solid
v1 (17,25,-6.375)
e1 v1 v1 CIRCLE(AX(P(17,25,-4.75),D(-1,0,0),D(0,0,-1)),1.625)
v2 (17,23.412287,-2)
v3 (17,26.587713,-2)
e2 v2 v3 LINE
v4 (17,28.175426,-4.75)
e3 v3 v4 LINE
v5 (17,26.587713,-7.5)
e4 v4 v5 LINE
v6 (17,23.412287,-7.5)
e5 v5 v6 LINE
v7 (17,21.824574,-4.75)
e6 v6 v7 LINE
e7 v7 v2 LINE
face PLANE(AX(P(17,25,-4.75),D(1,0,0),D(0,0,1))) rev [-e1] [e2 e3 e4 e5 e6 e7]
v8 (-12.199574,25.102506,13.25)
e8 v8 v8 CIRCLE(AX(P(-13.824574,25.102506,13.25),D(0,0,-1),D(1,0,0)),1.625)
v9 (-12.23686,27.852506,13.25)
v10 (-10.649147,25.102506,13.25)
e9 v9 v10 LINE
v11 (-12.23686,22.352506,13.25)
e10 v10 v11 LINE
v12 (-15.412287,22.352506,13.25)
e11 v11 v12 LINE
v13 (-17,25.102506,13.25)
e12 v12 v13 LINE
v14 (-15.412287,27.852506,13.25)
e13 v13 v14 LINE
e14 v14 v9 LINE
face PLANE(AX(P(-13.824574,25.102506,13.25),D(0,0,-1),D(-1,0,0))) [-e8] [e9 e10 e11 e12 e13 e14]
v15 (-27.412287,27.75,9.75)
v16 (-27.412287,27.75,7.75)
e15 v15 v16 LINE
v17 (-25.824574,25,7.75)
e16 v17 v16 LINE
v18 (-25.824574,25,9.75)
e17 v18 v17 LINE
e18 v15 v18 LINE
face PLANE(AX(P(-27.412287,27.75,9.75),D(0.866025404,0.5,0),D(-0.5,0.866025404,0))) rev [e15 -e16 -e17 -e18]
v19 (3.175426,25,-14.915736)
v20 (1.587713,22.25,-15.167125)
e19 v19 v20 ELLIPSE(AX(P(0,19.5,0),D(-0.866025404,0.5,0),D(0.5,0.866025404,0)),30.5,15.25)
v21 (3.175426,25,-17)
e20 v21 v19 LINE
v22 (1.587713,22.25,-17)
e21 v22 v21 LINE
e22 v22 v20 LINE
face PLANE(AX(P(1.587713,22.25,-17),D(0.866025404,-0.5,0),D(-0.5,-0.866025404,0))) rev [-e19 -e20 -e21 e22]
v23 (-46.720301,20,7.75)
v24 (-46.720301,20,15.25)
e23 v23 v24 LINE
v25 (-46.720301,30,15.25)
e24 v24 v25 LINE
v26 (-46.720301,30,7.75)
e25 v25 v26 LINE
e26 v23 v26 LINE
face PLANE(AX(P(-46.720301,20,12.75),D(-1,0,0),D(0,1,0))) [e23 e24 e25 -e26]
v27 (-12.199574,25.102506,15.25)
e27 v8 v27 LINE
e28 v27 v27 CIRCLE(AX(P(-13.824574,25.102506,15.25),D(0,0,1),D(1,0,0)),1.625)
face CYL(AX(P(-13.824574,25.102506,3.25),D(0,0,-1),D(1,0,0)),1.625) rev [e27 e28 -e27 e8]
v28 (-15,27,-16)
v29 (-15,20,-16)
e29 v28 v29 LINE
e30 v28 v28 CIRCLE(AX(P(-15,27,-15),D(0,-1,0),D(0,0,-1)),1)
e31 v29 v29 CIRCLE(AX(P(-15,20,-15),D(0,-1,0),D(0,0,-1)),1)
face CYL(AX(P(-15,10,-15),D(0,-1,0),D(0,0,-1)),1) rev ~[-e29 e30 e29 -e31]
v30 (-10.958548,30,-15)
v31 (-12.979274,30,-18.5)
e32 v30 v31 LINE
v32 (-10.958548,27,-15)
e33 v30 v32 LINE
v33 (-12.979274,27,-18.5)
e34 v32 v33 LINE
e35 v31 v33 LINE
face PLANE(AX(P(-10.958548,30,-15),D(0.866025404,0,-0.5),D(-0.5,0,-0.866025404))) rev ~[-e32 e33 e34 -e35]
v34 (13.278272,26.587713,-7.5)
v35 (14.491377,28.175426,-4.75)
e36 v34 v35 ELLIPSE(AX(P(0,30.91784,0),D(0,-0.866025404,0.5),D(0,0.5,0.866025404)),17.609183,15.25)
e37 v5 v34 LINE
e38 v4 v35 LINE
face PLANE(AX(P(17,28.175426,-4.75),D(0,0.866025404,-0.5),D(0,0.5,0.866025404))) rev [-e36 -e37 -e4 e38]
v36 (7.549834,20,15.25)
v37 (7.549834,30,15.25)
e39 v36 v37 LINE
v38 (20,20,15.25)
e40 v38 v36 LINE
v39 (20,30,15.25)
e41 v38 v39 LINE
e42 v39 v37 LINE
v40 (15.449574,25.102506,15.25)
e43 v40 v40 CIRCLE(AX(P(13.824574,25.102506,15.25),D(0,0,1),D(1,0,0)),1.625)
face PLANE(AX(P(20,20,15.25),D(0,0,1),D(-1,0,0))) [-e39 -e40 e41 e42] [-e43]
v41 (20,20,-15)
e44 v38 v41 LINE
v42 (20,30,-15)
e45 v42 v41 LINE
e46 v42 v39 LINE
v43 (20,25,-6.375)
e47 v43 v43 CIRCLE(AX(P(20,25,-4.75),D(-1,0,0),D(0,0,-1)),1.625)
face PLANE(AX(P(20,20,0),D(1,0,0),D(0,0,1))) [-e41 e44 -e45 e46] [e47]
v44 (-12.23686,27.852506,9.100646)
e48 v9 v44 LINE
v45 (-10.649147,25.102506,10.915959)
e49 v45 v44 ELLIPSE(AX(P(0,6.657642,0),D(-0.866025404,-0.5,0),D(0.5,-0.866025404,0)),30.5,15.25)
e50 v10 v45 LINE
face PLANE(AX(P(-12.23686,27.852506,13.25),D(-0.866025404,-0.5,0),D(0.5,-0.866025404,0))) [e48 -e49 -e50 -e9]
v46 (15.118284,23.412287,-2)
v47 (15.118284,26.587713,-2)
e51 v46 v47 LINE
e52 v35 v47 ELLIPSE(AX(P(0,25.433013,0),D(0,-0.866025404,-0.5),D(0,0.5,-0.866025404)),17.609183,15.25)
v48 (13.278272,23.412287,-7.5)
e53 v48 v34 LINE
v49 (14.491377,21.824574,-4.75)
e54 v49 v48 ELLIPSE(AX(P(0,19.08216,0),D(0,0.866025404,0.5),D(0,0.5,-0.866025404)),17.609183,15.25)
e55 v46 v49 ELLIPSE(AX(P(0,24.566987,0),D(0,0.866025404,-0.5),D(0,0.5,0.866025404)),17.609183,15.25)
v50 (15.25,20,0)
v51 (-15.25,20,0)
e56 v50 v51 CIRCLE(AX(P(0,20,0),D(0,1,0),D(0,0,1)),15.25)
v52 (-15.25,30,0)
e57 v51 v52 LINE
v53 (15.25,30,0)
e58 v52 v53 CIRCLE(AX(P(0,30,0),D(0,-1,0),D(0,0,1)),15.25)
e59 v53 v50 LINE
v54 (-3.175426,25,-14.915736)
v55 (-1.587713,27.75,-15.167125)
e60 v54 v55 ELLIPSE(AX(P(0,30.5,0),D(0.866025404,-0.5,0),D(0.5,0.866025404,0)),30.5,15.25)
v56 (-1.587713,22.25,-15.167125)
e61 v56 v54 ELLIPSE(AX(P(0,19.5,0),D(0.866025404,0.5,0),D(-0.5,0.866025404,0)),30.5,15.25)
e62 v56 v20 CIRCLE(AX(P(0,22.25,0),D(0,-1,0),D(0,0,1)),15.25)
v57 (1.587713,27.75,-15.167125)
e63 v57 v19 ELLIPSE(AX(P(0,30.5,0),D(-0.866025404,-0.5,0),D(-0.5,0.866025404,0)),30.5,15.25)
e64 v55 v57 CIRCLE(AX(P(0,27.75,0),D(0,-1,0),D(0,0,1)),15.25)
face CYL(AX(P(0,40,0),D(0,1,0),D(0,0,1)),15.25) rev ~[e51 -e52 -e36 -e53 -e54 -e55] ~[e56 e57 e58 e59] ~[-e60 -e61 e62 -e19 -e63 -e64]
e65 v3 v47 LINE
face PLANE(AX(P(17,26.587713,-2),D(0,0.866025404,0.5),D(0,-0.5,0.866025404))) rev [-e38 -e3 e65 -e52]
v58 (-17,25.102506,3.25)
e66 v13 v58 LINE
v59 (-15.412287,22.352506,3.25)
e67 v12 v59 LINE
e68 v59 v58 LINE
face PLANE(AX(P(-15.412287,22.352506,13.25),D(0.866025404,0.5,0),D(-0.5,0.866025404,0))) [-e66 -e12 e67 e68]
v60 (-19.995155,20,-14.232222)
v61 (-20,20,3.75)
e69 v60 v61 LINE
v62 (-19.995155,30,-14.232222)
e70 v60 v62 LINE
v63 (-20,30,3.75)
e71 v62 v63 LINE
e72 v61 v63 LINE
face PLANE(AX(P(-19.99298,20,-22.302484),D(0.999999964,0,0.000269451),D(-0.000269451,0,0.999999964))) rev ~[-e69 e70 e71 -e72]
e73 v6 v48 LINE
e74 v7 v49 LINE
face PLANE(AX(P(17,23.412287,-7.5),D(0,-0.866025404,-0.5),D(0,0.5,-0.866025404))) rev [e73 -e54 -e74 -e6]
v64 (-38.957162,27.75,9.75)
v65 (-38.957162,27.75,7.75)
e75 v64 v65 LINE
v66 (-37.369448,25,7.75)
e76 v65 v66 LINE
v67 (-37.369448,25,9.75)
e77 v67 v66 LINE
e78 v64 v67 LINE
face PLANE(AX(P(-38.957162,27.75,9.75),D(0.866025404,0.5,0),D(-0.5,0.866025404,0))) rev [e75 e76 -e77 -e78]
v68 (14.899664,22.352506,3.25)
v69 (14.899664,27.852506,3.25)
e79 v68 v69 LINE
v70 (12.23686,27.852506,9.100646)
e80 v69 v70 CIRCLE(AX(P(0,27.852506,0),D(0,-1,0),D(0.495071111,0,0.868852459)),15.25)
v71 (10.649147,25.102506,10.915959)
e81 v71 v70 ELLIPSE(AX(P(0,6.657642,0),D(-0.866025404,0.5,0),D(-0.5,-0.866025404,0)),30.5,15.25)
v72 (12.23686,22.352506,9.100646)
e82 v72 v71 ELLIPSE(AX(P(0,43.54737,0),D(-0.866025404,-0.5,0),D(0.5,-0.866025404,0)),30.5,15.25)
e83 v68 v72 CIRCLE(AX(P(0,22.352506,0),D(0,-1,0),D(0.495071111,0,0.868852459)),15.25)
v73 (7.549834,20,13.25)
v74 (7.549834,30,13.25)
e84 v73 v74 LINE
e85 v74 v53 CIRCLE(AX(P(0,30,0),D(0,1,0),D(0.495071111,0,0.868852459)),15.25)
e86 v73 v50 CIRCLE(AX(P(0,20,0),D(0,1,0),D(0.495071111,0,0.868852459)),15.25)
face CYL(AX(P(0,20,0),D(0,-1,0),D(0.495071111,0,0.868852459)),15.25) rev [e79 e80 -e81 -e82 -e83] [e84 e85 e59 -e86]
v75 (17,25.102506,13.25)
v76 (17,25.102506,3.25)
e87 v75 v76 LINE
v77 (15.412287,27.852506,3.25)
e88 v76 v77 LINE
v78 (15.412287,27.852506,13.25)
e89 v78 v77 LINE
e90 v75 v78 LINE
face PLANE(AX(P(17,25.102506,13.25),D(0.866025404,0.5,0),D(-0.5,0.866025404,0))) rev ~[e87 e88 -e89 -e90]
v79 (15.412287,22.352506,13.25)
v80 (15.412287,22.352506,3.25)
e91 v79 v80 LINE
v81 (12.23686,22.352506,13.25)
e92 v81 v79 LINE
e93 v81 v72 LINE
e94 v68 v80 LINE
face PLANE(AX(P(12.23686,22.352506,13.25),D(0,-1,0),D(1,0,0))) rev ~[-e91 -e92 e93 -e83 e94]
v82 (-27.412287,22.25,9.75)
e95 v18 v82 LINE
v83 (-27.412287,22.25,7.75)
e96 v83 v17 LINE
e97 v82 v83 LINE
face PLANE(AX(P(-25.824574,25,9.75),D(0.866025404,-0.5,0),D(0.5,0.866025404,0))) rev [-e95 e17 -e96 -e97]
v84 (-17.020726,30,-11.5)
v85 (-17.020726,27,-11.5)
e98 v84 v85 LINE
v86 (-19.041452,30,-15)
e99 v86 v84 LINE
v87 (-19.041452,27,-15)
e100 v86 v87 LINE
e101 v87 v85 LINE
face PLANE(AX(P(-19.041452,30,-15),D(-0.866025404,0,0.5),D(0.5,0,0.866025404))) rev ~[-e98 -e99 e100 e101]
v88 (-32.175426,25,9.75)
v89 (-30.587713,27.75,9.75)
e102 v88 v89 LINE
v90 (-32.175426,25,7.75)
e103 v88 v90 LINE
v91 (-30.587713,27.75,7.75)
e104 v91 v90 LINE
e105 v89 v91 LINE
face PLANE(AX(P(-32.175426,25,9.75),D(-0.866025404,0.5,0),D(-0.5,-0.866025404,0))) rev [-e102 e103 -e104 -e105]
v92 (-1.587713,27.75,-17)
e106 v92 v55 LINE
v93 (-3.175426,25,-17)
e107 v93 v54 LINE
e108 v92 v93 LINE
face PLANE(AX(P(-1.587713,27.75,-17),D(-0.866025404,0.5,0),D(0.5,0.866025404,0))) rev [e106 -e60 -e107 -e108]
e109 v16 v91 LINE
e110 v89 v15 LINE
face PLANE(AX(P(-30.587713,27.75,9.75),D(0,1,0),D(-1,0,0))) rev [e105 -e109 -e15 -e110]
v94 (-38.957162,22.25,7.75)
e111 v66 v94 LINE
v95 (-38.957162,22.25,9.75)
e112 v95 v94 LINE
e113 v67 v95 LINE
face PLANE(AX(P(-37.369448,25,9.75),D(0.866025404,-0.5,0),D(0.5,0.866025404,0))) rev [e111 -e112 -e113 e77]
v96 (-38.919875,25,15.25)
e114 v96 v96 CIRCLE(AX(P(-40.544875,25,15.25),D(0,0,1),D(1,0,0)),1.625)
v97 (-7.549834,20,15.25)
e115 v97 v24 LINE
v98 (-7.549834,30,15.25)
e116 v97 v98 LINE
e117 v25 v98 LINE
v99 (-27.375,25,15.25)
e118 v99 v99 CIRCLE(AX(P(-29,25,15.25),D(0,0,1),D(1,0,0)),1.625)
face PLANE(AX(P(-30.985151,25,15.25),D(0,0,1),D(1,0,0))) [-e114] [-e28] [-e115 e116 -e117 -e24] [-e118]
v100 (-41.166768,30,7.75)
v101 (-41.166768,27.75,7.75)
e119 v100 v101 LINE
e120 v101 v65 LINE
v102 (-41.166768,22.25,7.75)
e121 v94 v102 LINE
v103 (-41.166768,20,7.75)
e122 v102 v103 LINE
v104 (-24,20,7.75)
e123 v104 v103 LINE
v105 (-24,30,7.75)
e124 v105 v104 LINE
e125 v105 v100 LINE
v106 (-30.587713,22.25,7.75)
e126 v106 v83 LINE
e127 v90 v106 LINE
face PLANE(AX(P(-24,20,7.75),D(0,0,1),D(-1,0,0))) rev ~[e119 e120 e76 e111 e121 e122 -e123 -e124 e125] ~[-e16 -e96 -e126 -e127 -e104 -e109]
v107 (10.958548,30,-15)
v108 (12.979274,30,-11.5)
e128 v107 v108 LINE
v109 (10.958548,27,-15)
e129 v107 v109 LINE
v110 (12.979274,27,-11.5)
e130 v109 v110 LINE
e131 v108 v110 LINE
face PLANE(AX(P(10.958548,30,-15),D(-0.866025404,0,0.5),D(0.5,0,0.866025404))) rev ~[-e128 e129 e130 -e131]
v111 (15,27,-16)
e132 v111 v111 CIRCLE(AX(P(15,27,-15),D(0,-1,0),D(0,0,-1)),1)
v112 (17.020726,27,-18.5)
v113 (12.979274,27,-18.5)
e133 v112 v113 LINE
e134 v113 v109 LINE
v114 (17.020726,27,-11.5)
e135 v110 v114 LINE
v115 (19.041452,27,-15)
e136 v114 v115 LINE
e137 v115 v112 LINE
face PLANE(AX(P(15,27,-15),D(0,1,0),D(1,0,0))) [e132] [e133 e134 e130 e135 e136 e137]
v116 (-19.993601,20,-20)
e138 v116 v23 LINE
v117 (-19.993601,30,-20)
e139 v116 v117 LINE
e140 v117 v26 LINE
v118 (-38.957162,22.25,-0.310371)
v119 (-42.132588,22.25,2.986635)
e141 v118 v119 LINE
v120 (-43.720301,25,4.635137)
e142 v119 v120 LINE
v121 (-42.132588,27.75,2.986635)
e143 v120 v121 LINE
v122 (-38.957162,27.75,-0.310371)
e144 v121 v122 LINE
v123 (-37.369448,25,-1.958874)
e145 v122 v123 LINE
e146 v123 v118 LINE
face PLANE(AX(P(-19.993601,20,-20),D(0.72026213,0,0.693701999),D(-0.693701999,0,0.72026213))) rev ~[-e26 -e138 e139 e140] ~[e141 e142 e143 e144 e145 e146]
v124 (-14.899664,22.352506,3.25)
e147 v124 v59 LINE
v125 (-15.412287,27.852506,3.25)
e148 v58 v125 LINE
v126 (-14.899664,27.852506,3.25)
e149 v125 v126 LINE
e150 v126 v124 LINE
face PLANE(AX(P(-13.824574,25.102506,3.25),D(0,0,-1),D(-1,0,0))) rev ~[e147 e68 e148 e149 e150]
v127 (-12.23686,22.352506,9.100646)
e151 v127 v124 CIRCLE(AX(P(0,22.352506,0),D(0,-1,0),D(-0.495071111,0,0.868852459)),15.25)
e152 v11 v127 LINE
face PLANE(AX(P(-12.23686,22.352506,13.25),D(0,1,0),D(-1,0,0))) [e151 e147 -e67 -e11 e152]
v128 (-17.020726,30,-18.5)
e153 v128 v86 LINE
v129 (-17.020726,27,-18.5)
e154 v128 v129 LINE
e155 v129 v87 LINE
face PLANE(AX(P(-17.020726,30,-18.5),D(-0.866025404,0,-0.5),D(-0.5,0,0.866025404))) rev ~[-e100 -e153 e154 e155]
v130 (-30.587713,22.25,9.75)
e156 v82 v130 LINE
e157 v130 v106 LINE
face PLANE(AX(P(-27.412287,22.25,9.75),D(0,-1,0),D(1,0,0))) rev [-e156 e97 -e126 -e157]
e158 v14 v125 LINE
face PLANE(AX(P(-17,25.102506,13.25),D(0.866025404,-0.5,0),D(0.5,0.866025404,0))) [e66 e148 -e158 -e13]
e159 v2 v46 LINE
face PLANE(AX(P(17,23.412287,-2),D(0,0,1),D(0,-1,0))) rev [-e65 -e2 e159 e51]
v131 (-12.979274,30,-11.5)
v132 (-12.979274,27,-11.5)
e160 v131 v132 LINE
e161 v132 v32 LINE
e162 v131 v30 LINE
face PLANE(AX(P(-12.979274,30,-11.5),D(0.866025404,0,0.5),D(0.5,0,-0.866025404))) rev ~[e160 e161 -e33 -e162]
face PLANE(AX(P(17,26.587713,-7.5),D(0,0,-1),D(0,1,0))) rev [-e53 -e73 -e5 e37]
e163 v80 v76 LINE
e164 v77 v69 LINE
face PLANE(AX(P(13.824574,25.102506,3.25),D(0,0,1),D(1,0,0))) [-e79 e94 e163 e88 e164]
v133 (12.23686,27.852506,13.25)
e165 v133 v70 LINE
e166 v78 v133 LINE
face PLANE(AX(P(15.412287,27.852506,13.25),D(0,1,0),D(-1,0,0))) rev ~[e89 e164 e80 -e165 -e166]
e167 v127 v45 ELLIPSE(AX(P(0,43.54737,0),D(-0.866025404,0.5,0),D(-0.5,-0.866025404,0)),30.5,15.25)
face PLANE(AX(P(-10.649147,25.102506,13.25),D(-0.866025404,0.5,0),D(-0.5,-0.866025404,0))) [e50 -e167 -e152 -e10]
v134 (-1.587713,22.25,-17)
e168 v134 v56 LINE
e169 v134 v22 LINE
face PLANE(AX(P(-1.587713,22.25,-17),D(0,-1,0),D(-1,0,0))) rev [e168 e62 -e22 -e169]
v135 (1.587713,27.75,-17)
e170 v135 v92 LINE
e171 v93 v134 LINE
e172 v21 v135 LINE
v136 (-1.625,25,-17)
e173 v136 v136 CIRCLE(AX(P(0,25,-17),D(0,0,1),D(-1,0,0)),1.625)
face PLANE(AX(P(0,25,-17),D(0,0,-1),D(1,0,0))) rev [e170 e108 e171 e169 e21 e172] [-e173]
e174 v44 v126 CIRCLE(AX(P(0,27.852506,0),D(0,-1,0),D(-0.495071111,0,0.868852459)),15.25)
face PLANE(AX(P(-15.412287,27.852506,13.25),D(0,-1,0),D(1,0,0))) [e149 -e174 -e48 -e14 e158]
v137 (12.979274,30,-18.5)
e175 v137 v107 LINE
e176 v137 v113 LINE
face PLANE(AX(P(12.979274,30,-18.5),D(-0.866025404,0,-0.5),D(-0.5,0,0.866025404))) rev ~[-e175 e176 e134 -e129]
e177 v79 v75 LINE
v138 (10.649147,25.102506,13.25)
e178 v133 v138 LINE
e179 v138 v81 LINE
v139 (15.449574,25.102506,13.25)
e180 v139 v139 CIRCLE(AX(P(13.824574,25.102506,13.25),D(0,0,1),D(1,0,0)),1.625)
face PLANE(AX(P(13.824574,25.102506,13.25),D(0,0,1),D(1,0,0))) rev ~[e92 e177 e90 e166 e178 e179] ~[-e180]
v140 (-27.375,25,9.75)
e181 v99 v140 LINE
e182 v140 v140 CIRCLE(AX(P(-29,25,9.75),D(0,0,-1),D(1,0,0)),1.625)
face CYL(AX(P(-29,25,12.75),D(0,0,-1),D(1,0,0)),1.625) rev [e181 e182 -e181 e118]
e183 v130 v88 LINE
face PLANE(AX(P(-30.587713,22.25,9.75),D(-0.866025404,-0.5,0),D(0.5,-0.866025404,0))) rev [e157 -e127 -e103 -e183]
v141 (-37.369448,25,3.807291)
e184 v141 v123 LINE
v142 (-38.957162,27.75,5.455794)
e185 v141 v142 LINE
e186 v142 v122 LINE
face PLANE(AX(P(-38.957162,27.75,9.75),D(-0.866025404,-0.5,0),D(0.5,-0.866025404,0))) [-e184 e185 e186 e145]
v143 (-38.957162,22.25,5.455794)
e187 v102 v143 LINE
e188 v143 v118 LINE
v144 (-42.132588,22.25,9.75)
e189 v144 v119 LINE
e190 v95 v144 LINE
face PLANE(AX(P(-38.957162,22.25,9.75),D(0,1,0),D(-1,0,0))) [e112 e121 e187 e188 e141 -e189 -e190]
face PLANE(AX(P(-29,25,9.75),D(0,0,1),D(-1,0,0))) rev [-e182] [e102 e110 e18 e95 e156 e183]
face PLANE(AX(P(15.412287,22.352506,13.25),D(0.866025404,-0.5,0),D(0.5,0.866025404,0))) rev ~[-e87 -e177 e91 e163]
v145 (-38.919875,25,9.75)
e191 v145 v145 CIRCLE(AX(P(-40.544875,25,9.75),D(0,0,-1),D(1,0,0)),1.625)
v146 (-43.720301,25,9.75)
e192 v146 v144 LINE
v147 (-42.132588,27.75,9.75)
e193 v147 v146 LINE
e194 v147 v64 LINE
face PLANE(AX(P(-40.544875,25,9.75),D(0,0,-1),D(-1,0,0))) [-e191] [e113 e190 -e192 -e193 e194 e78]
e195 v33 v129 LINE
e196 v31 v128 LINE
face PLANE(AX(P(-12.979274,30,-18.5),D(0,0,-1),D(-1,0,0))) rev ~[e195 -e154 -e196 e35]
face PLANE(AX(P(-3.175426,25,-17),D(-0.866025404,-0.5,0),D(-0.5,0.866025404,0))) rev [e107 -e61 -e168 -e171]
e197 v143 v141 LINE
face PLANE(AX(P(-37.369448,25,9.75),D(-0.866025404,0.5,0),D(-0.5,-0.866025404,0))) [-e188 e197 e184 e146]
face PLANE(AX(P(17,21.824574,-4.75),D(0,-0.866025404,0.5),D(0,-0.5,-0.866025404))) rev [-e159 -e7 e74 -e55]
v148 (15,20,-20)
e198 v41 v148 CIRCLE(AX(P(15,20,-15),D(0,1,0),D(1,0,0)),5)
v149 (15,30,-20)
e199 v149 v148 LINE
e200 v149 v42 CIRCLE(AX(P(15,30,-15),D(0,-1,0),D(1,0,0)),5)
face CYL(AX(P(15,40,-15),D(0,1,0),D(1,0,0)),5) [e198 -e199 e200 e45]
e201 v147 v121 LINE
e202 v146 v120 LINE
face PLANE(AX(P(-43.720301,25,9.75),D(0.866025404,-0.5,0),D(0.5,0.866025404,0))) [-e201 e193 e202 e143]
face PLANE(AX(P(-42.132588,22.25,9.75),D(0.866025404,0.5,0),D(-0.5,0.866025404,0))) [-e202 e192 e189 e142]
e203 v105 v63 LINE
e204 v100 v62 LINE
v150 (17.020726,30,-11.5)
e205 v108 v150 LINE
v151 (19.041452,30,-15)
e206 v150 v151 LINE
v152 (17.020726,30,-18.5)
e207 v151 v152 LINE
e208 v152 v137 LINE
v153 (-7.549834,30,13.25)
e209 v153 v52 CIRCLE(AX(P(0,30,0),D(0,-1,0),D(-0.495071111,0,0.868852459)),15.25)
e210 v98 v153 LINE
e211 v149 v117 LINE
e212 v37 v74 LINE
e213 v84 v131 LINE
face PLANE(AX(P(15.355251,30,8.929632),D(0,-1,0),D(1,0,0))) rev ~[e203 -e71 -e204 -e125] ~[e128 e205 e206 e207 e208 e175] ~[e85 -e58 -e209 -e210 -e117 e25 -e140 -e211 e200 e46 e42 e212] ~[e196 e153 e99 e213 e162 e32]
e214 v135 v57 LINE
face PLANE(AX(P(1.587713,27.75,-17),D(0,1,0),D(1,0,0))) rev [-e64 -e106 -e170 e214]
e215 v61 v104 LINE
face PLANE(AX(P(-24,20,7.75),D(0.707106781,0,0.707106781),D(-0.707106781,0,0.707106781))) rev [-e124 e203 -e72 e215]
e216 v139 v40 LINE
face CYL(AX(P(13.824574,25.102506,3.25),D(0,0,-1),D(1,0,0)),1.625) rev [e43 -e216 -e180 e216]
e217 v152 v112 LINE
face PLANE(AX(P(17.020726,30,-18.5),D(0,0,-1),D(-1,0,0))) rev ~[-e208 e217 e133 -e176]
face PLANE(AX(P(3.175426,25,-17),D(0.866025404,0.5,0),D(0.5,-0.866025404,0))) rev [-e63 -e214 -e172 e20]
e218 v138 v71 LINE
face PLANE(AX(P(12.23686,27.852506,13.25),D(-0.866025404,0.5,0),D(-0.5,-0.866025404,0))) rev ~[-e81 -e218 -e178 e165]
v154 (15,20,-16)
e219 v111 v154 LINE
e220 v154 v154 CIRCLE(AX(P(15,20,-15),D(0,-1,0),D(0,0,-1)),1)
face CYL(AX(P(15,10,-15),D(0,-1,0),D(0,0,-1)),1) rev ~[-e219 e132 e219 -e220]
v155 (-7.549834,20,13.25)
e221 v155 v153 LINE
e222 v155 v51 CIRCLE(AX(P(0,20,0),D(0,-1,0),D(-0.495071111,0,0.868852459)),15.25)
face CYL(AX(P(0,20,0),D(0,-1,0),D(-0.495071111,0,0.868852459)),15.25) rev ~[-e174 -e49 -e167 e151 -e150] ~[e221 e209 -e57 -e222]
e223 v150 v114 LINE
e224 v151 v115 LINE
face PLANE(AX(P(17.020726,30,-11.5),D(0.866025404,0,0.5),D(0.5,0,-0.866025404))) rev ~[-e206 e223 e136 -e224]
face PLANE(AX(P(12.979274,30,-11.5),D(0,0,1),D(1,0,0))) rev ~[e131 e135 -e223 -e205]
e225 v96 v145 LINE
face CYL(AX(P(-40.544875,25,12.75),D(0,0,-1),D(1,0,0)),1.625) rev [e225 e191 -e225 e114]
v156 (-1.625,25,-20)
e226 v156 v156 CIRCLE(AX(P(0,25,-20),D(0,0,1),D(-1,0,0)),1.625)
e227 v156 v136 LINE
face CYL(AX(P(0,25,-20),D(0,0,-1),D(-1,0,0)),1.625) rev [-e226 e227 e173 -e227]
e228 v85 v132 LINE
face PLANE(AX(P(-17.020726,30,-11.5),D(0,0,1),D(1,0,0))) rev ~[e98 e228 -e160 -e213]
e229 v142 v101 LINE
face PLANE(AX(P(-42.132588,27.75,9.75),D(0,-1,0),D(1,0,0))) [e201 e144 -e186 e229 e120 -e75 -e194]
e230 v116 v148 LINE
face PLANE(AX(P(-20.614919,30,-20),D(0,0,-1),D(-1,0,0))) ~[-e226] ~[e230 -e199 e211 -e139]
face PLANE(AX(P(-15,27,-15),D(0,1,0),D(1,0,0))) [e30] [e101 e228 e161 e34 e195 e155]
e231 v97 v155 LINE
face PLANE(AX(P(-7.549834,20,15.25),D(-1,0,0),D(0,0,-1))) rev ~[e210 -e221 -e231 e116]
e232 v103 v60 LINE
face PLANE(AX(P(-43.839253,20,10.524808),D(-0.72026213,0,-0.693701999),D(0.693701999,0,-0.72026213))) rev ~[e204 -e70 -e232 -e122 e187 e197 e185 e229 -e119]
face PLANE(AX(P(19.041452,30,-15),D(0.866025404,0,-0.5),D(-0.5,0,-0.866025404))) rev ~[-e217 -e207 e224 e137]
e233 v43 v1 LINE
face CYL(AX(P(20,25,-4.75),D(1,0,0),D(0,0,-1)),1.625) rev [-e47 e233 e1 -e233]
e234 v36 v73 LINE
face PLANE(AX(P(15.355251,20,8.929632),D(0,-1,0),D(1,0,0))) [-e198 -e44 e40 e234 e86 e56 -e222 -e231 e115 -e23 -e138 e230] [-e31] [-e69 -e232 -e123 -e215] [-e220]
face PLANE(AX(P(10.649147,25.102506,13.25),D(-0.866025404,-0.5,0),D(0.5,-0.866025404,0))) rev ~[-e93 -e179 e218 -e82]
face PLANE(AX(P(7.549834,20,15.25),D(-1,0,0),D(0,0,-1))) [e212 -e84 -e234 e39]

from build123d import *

# Parameters (mm, degrees)
CROQUIS1_R                              = 15.25
CROQUIS1_R_2                            = 2.125
SOPORTE_CAJA_REDUCTORA_DEPTH            = 20
CROQUIS3_R                              = 2.125
CORTAR_EXTRUIR1_DEPTH                   = 51.423828692
REDONDEO1_R                             = 5
BOSS_EXTRUDE1_DEPTH                     = 20
CUT_EXTRUDE1_REACH                      = 55.852
SKETCH2_R                               = 1.625
CUT_EXTRUDE2_DEPTH                      = 2
SKETCH4_R                               = 1.625
CUT_EXTRUDE3_DEPTH                      = 63.291652731
CUT_EXTRUDE4_START                      = -4.5
CUT_EXTRUDE4_DEPTH                      = 2
CROQUIS6_W                              = 4.75
CROQUIS6_H                              = 4.75
CORTAR_EXTRUIR17_DEPTH                  = 42.231056256
CROQUIS7_W                              = 60
CROQUIS7_H                              = 20
CORTAR_EXTRUIR18_DEPTH                  = 51.423828692
SALIENTE_EXTRUIR2_DEPTH                 = 49
SOPORTE_START                           = -15
SOPORTE_MOTOR_DEPTH                     = 15
CROQUIS12_R                             = 2.125
AGUJEROS_DE_SUJECION_A_BASE_DEPTH       = 84.087679592
TUERCA_START                            = -4
TUERCA_AGUJERO_DE_SUJECION_A_BASE_DEPTH = 10
SALIENTE_EXTRUIR4_DEPTH                 = 15
CORTAR_EXTRUIR19_DEPTH                  = 25
CROQUIS14_W                             = 50
CROQUIS14_H                             = 118
CORTAR_EXTRUIR22_DEPTH                  = 146.556045907
CROQUIS15_W                             = 10
CROQUIS15_H                             = 7
CORTAR_EXTRUIR23_DEPTH                  = 42.231056256
CORTAR_EXTRUIR24_DEPTH                  = 42.231056256
CROQUIS18_W                             = 40
CROQUIS18_H                             = 10
CORTAR_EXTRUIR25_DEPTH                  = 44.27311521
SALIENTE_EXTRUIR5_DEPTH                 = 10
CROQUIS20_R                             = 1
CORTAR_EXTRUIR26_DEPTH                  = 49.229270158
CORTAR_EXTRUIR27_REACH                  = 62.959
CORTAR_EXTRUIR27_END_RADIUS             = 15.25
CROQUIS21_R                             = 1.625
CROQUIS22_R                             = 2.125
CROQUIS22_R_2                           = 1
SALIENTE_EXTRUIR6_DEPTH                 = 10
CROQUIS23_R                             = 1.625
CORTAR_EXTRUIR28_DEPTH                  = 52.269508521
CORTAR_EXTRUIR29_START                  = -3
CORTAR_EXTRUIR29_DEPTH                  = 10
SALIENTE_EXTRUIR7_DEPTH                 = 10
CORTAR_EXTRUIR30_REACH                  = 72.235
CROQUIS27_R                             = 1.625
CORTAR_EXTRUIR31_REACH                  = 75.235
CORTAR_EXTRUIR31_START                  = -3
CORTAR_EXTRUIR32_REACH                  = 58.612
CROQUIS29_R                             = 1.625
CORTAR_EXTRUIR33_REACH                  = 61.112
CORTAR_EXTRUIR33_START                  = -2.5
CROQUIS35_W                             = 13.305418987
CROQUIS35_H                             = 6.826864192
CORTAR_EXTRUIR34_DEPTH                  = 63.931555098
CORTAR_EXTRUIR34_DEPTH_BACK             = 63.931555098
CORTAR_EXTRUIR35_START                  = -3
CORTAR_EXTRUIR35_DEPTH                  = 10
SALIENTE_EXTRUIR8_DEPTH                 = 10
SALIENTE_EXTRUIR9_DEPTH                 = 13
SALIENTE_EXTRUIR10_DEPTH                = 3
CROQUIS40_W                             = 106.583537839
CROQUIS40_H                             = 47.391515964
CORTAR_EXTRUIR36_DEPTH                  = 80.887064817
CORTAR_EXTRUIR36_DEPTH_BACK             = 80.887064817
CORTAR_EXTRUIR37_DEPTH                  = 67.2524009
CORTAR_EXTRUIR37_DEPTH_BACK             = 67.2524009
CORTAR_EXTRUIR38_DEPTH                  = 79.704784639
CORTAR_EXTRUIR38_DEPTH_BACK             = 79.704784639
SALIENTE_EXTRUIR11_DEPTH                = 10
CORTAR_EXTRUIR39_DEPTH                  = 63.9908649
CROQUIS45_W                             = 31.470301378
CROQUIS45_H                             = 10
CROQUIS45_R                             = 1.625
SALIENTE_EXTRUIR12_DEPTH                = 2.5
SALIENTE_EXTRUIR13_DEPTH                = 10
CORTAR_EXTRUIR40_START                  = -2
CROQUIS47_R                             = 1.625
CORTAR_EXTRUIR40_DEPTH                  = 10
CORTAR_EXTRUIR41_START                  = -12
CROQUIS48_R                             = 1.625
CORTAR_EXTRUIR41_DEPTH                  = 12
CORTAR_EXTRUIR42_DEPTH                  = 3


with BuildPart() as part:
    # Croquis1 → Soporte caja reductora (new body)
    with BuildSketch(Plane(origin=(0, 0, 0), x_dir=(1, 0, 0), z_dir=(0, 1, 0))):
        Polygon((-30, -15.25), (-20, -15.25), (-20, -20), (20, -20), (20, -15.25), (30, -15.25), (30, -7.25), (20, -4.25), (20, 20), (-20, 20), (-20, -4.25), (-30, -7.25), align=None)
        with Locations(Location((0, 0, 0), (0, 0, 270))):
            Circle(CROQUIS1_R, mode=Mode.SUBTRACT)
        with Locations(Location((-15, 15, 0), (0, 0, 270))):
            Circle(CROQUIS1_R_2, mode=Mode.SUBTRACT)
        with Locations(Location((15, 15, 0), (0, 0, 270))):
            Circle(CROQUIS1_R_2, mode=Mode.SUBTRACT)
    extrude(amount=-SOPORTE_CAJA_REDUCTORA_DEPTH)

    # Croquis3 → Cortar-Extruir1 (cut, through all)
    with BuildSketch(Plane.XY.offset(15.25)):
        with Locations((-23.5, -10)):
            Circle(CROQUIS3_R)
        with Locations((23.5, -10)):
            Circle(CROQUIS3_R)
    extrude(amount=-CORTAR_EXTRUIR1_DEPTH, mode=Mode.SUBTRACT)

    # Redondeo1
    redondeo1_edges = [part.edges().sort_by_distance(p)[0] for p in [
        (-20, -10, -20),
        (20, -10, -20),
    ]]
    fillet(redondeo1_edges, radius=REDONDEO1_R)

    # Sketch1 → Boss-Extrude1 (add)
    with BuildSketch(Plane(origin=(0, 0, 0), x_dir=(1, 0, 0), z_dir=(0, 1, 0))):
        with BuildLine():
            Line((25.5, 15), (20, 15))
            ThreePointArc((20, 15), (18.535533906, 18.535533906), (15, 20))
            Line((15, 20), (30, 20))
            Line((30, 20), (30, 8))
            Line((30, 8), (25.5, 8))
            Line((25.5, 8), (25.5, 15))
        make_face()
    extrude(amount=-BOSS_EXTRUDE1_DEPTH)

    # Sketch2 → Cut-Extrude1 (cut, up to next)
    with BuildSketch(Plane(origin=(0, 0, -20), x_dir=(-1, 0, 0), z_dir=(0, 0, -1)), mode=Mode.PRIVATE) as cut_extrude1_sk1:
        with Locations((-22.75, -10)):
            Circle(SKETCH2_R)
    cut_extrude1_tool1 = extrude(cut_extrude1_sk1.sketch, amount=-CUT_EXTRUDE1_REACH, mode=Mode.PRIVATE) & part.part
    add(cut_extrude1_tool1.solids().sort_by_distance((22.75, -10, -20))[0], mode=Mode.SUBTRACT)

    # Sketch3 → Cut-Extrude2 (cut)
    with BuildSketch(Plane.XY.offset(-15)):
        Polygon((20, -11.58771324), (22.75, -13.175426481), (25.5, -11.58771324), (25.5, -8.41228676), (22.75, -6.824573519), (20, -8.41228676), align=None)
    extrude(amount=-CUT_EXTRUDE2_DEPTH, mode=Mode.SUBTRACT)

    # Sketch4 → Cut-Extrude3 (cut, through all)
    with BuildSketch(Plane.ZY.offset(-25.5)):
        with Locations((-12.25, -10)):
            Circle(SKETCH4_R)
    extrude(amount=-CUT_EXTRUDE3_DEPTH, mode=Mode.SUBTRACT)

    # Sketch5 → Cut-Extrude4 (cut)
    with BuildSketch(Plane(origin=(30, 0, 0), x_dir=(0, 0, -1), z_dir=(1, 0, 0)).offset(CUT_EXTRUDE4_START)):
        Polygon((15, -11.58771324), (15, -8.41228676), (12.25, -6.824573519), (9.5, -8.41228676), (9.5, -11.58771324), (12.25, -13.175426481), align=None)
    extrude(amount=CUT_EXTRUDE4_DEPTH, mode=Mode.SUBTRACT)

    # Croquis6 → Cortar-Extruir17 (cut, through all)
    with BuildSketch(Plane(origin=(0, 0, 0), x_dir=(1, 0, 0), z_dir=(0, 1, 0))):
        Polygon((0, -15.25), (-15.25, -15.25), (-15.25, -20), (15.25, -20), (15.25, -15.25), align=None)
        with Locations((-17.625, -17.625)):
            Rectangle(CROQUIS6_W, CROQUIS6_H)
        with BuildLine():
            ThreePointArc((0, -15.25), (-10.783378413, -10.783378413), (-15.25, 0))
            Line((-15.25, 0), (-15.25, -15.25))
            Line((-15.25, -15.25), (0, -15.25))
        make_face()
        with BuildLine():
            Line((15.25, -15.25), (15.25, 0))
            ThreePointArc((15.25, 0), (10.783378413, -10.783378413), (0, -15.25))
            Line((0, -15.25), (15.25, -15.25))
        make_face()
        with Locations((17.625, -17.625)):
            Rectangle(CROQUIS6_W, CROQUIS6_H)
    extrude(amount=-CORTAR_EXTRUIR17_DEPTH, mode=Mode.SUBTRACT)


with BuildPart() as body_2:
    # Simetría1: mirrored copy
    add(part.part.mirror(Plane.ZX))

    # Croquis8 → Saliente-Extruir2 (add)
    with BuildSketch(Plane(origin=(0, 20, 0), x_dir=(1, 0, 0), z_dir=(0, 1, 0))):
        with BuildLine():
            Line((-12.664515522, 20), (-11.040489496, 13.939052358))
            Line((-11.040489496, 13.939052358), (-10.315162126, 11.232093763))
            ThreePointArc((-10.315162126, 11.232093763), (0, 15.25), (10.315162126, 11.232093763))
            Line((10.315162126, 11.232093763), (10.817418481, 13.87928066))
            Line((10.817418481, 13.87928066), (11.978715476, 20))
            Line((11.978715476, 20), (-12.664515522, 20))
        make_face()
    extrude(amount=SALIENTE_EXTRUIR2_DEPTH)

    # Croquis9 → Soporte motor (add)
    with BuildSketch(Plane(origin=(0, 69, 0), x_dir=(1, 0, 0), z_dir=(0, 1, 0)).offset(SOPORTE_START)):
        with BuildLine():
            Line((-20, 15), (-20, -4.25))
            Line((-20, -4.25), (-30, -7.25))
            Line((-30, -7.25), (-30, -15.25))
            Line((-30, -15.25), (0, -15.25))
            Line((0, -15.25), (0, -14.75))
            ThreePointArc((0, -14.75), (-10.429825023, 10.429825023), (14.75, 0))
            Line((14.75, 0), (20, 0))
            Line((20, 0), (20, 13.936837101))
            Line((20, 13.936837101), (12.664515522, 20))
            Line((12.664515522, 20), (-15, 20))
            ThreePointArc((-15, 20), (-18.535533906, 18.535533906), (-20, 15))
        make_face()
    extrude(amount=-SOPORTE_MOTOR_DEPTH)

    # Croquis12 → Agujeros de sujecion a base (cut, through all)
    with BuildSketch(Plane.XY.offset(15.25)):
        with Locations((-23.5, 46.5)):
            Circle(CROQUIS12_R)
    extrude(amount=-AGUJEROS_DE_SUJECION_A_BASE_DEPTH, mode=Mode.SUBTRACT)

    # Croquis13 → Tuerca Agujero de sujecion a base (cut)
    with BuildSketch(Plane.XY.offset(15.25).offset(TUERCA_START)):
        Polygon((-20, 44.479274058), (-20, 48.520725942), (-23.5, 50.541451884), (-27, 48.520725942), (-27, 44.479274058), (-23.5, 42.458548116), align=None)
    extrude(amount=-TUERCA_AGUJERO_DE_SUJECION_A_BASE_DEPTH, mode=Mode.SUBTRACT)

    # Croquis10 → Saliente-Extruir4 (add)
    with BuildSketch(Plane(origin=(0, 69, 0), x_dir=(1, 0, 0), z_dir=(0, 1, 0))):
        with BuildLine():
            ThreePointArc((10.315162126, 11.232093763), (0, 15.25), (-10.315162126, 11.232093763))
            Line((-10.315162126, 11.232093763), (-10.16850369, 10.684757026))
            ThreePointArc((-10.16850369, 10.684757026), (0, 14.75), (10.16850369, 10.684757026))
            Line((10.16850369, 10.684757026), (10.315162126, 11.232093763))
        make_face()
    extrude(amount=-SALIENTE_EXTRUIR4_DEPTH)

    # Croquis11 → Cortar-Extruir19 (cut)
    with BuildSketch(Plane.XZ):
        with BuildLine():
            Line((15.25, 4.25), (20, 4.25))
            Line((20, 4.25), (21.972856468, 4.84185694))
            ThreePointArc((21.972856468, 4.84185694), (19.948931102, 10.40625523), (16.543503257, 15.25))
            Line((16.543503257, 15.25), (15.25, 15.25))
            Line((15.25, 15.25), (15.25, 4.25))
        make_face()
        with BuildLine():
            Line((21.972856468, 4.84185694), (30, 7.25))
            Line((30, 7.25), (30, 15.25))
            Line((30, 15.25), (16.543503257, 15.25))
            ThreePointArc((16.543503257, 15.25), (19.948931102, 10.40625523), (21.972856468, 4.84185694))
        make_face()
        with BuildLine():
            ThreePointArc((20, -15), (18.535533906, -18.535533906), (15, -20))
            Line((15, -20), (30, -20))
            Line((30, -20), (30, -8))
            Line((30, -8), (25.5, -8))
            Line((25.5, -8), (25.5, -15))
            Line((25.5, -15), (20, -15))
        make_face()
    extrude(amount=-CORTAR_EXTRUIR19_DEPTH, mode=Mode.SUBTRACT)

    # Simetría2: body 2 across face


with BuildPart() as part_1:
    add(part.part)

    # Croquis7 → Cortar-Extruir18 (cut, through all)
    with BuildSketch(Plane(origin=(0, 0, -20), x_dir=(-1, 0, 0), z_dir=(0, 0, -1))):
        with Locations((0, -10)):
            Rectangle(CROQUIS7_W, CROQUIS7_H)
    extrude(amount=-CORTAR_EXTRUIR18_DEPTH, mode=Mode.SUBTRACT)


with BuildPart() as body_2_1:
    add(body_2.part)
    add(body_2.part.mirror(Plane(origin=(-0.229209569, 69, -16.663998028), x_dir=(0, 0, 1), z_dir=(0, 1, 0))))

    # Croquis14 → Cortar-Extruir22 (cut, through all)
    with BuildSketch(Plane.XY.offset(15.25)):
        with Locations((-5, 79)):
            Rectangle(CROQUIS14_W, CROQUIS14_H)
    extrude(amount=-CORTAR_EXTRUIR22_DEPTH, mode=Mode.SUBTRACT)

    # Croquis15 → Cortar-Extruir23 (cut, through all)
    with BuildSketch(Plane.XZ):
        with Locations((-25, 7.75)):
            Rectangle(CROQUIS15_W, CROQUIS15_H)
    extrude(amount=-CORTAR_EXTRUIR23_DEPTH, mode=Mode.SUBTRACT)

    # Croquis16 → Cortar-Extruir24 (cut, through all)
    with BuildSketch(Plane.XZ):
        Polygon((-30, 15.25), (-15.25, 15.25), (-15.25, 12.75), (-20, 12.75), (-20, 11.25), (-30, 11.25), (-30, 12.75), align=None)
    extrude(amount=-CORTAR_EXTRUIR24_DEPTH, mode=Mode.SUBTRACT)

    # Croquis18 → Cortar-Extruir25 (cut, through all)
    with BuildSketch(Plane(origin=(0, 0, -20), x_dir=(-1, 0, 0), z_dir=(0, 0, -1))):
        with Locations((0, 5)):
            Rectangle(CROQUIS18_W, CROQUIS18_H)
    extrude(amount=-CORTAR_EXTRUIR25_DEPTH, mode=Mode.SUBTRACT)

    # Croquis19 → Saliente-Extruir5 (add)
    with BuildSketch(Plane(origin=(0, 20, 0), x_dir=(1, 0, 0), z_dir=(0, 1, 0))):
        Polygon((-20, -12.75), (-34, -12.75), (-34, -7.75), (-24, -7.75), (-20, -3.75), align=None)
    extrude(amount=-SALIENTE_EXTRUIR5_DEPTH)

    # Croquis20 → Cortar-Extruir26 (cut, through all)
    with BuildSketch(Plane(origin=(0, 0, 7.75), x_dir=(-1, 0, 0), z_dir=(0, 0, -1))):
        with Locations((29, 15)):
            Circle(CROQUIS20_R)
    extrude(amount=-CORTAR_EXTRUIR26_DEPTH, mode=Mode.SUBTRACT)

    # Cortar-Extruir27: up to this cylinder (the profile starts outside it)
    cortar_extruir27_end = Plane(origin=(0, 15, 0), z_dir=(0, -1, 0)) * Cylinder(CORTAR_EXTRUIR27_END_RADIUS, 157.418, mode=Mode.PRIVATE)
    # Croquis21 → Cortar-Extruir27 (cut, up to the surface)
    with BuildSketch(Plane(origin=(20, 0, 0), x_dir=(0, 0, -1), z_dir=(1, 0, 0)), mode=Mode.PRIVATE) as cortar_extruir27_sk1:
        with Locations((4.75, 15)):
            Circle(CROQUIS21_R)
    cortar_extruir27_tool1 = extrude(cortar_extruir27_sk1.sketch, amount=-CORTAR_EXTRUIR27_REACH, mode=Mode.PRIVATE) - cortar_extruir27_end
    add(cortar_extruir27_tool1.solids().sort_by_distance((20, 15, -4.75))[0], mode=Mode.SUBTRACT)

    # Croquis22 → Saliente-Extruir6 (add)
    with BuildSketch(Plane.XZ.offset(-10)):
        with Locations((-15, -15)):
            Circle(CROQUIS22_R)
        with Locations(Location((-15, -15, 0), (0, 0, 270))):
            Circle(CROQUIS22_R_2, mode=Mode.SUBTRACT)
        with Locations((15, -15)):
            Circle(CROQUIS22_R)
        with Locations(Location((15, -15, 0), (0, 0, 270))):
            Circle(CROQUIS22_R_2, mode=Mode.SUBTRACT)
    extrude(amount=-SALIENTE_EXTRUIR6_DEPTH)

    # Croquis23 → Cortar-Extruir28 (cut, through all)
    with BuildSketch(Plane(origin=(0, 0, -20), x_dir=(-1, 0, 0), z_dir=(0, 0, -1))):
        with Locations((0, 15)):
            Circle(CROQUIS23_R)
    extrude(amount=-CORTAR_EXTRUIR28_DEPTH, mode=Mode.SUBTRACT)

    # Croquis24 → Cortar-Extruir29 (cut)
    with BuildSketch(Plane(origin=(0, 0, -20), x_dir=(-1, 0, 0), z_dir=(0, 0, -1)).offset(CORTAR_EXTRUIR29_START)):
        Polygon((1.58771324, 12.25), (3.175426481, 15), (1.58771324, 17.75), (-1.58771324, 17.75), (-3.175426481, 15), (-1.58771324, 12.25), align=None)
    extrude(amount=-CORTAR_EXTRUIR29_DEPTH, mode=Mode.SUBTRACT)

    # Croquis26 → Saliente-Extruir7 (add)
    with BuildSketch(Plane.XZ.offset(-10)):
        Polygon((-34, 7.75), (-34, 12.75), (-58.825, 12.75), (-39.160527763, -4.104491148), (-20, -4.104491148), (-20, -0.104491148), (-35.732113118, -0.104491148), (-29, 7.75), align=None)
        Polygon((-34.268209086, 7.75), (-39.594516123, 1.535690951), (-46.844874897, 7.75), align=None, mode=Mode.SUBTRACT)
    extrude(amount=-SALIENTE_EXTRUIR7_DEPTH)

    # Croquis27 → Cortar-Extruir30 (cut, up to next)
    with BuildSketch(Plane.XY.offset(12.75), mode=Mode.PRIVATE) as cortar_extruir30_sk1:
        with Locations((-40.544874897, 15)):
            Circle(CROQUIS27_R)
    cortar_extruir30_tool1 = extrude(cortar_extruir30_sk1.sketch, amount=-CORTAR_EXTRUIR30_REACH, mode=Mode.PRIVATE) & body_2_1.part
    # Croquis27 → Cortar-Extruir30 (cut, up to next)
    with BuildSketch(Plane.XY.offset(12.75), mode=Mode.PRIVATE) as cortar_extruir30_sk2:
        with Locations((-29, 15)):
            Circle(CROQUIS27_R)
    cortar_extruir30_tool2 = extrude(cortar_extruir30_sk2.sketch, amount=-CORTAR_EXTRUIR30_REACH, mode=Mode.PRIVATE) & body_2_1.part
    add(cortar_extruir30_tool1.solids().sort_by_distance((-40.544875, 15, 12.75))[0], mode=Mode.SUBTRACT)
    add(cortar_extruir30_tool2.solids().sort_by_distance((-29, 15, 12.75))[0], mode=Mode.SUBTRACT)

    # Croquis28 → Cortar-Extruir31 (cut, up to next)
    with BuildSketch(Plane.XY.offset(12.75).offset(CORTAR_EXTRUIR31_START), mode=Mode.PRIVATE) as cortar_extruir31_sk1:
        Polygon((-38.957161657, 12.25), (-37.369448416, 15), (-38.957161657, 17.75), (-42.132588137, 17.75), (-43.720301378, 15), (-42.132588137, 12.25), align=None)
    cortar_extruir31_tool1 = extrude(cortar_extruir31_sk1.sketch, amount=-CORTAR_EXTRUIR31_REACH, mode=Mode.PRIVATE) & body_2_1.part
    # Croquis28 → Cortar-Extruir31 (cut, up to next)
    with BuildSketch(Plane.XY.offset(12.75).offset(CORTAR_EXTRUIR31_START), mode=Mode.PRIVATE) as cortar_extruir31_sk2:
        Polygon((-27.41228676, 12.25), (-25.824573519, 15), (-27.41228676, 17.75), (-30.58771324, 17.75), (-32.175426481, 15), (-30.58771324, 12.25), align=None)
    cortar_extruir31_tool2 = extrude(cortar_extruir31_sk2.sketch, amount=-CORTAR_EXTRUIR31_REACH, mode=Mode.PRIVATE) & body_2_1.part
    add(cortar_extruir31_tool1.solids().sort_by_distance((-40.544875, 15, 9.75))[0], mode=Mode.SUBTRACT)
    add(cortar_extruir31_tool2.solids().sort_by_distance((-29, 15, 9.75))[0], mode=Mode.SUBTRACT)

    # Croquis29 → Cortar-Extruir32 (cut, up to next)
    with BuildSketch(Plane(origin=(-18.612848159, 0, -21.715982563), x_dir=(-0.7592713073348843, 0, 0.6507742172658468), z_dir=(-0.6507742172658468, 0, -0.7592713073348843)), mode=Mode.PRIVATE) as cortar_extruir32_sk1:
        with Locations((33.812368097, 15)):
            Circle(CROQUIS29_R)
    cortar_extruir32_tool1 = extrude(cortar_extruir32_sk1.sketch, amount=-CORTAR_EXTRUIR32_REACH, mode=Mode.PRIVATE) & body_2_1.part
    add(cortar_extruir32_tool1.solids().sort_by_distance((-44.285609, 15, 0.288235))[0], mode=Mode.SUBTRACT)

    # Croquis31 → Cortar-Extruir33 (cut, up to next)
    with BuildSketch(Plane(origin=(-18.612848159, 0, -21.715982563), x_dir=(-0.7592713073348843, 0, 0.6507742172658468), z_dir=(-0.6507742172658468, 0, -0.7592713073348843)).offset(CORTAR_EXTRUIR33_START), mode=Mode.PRIVATE) as cortar_extruir33_sk1:
        Polygon((36.562368097, 16.58771324), (33.812368097, 18.175426481), (31.062368097, 16.58771324), (31.062368097, 13.41228676), (33.812368097, 11.824573519), (36.562368097, 13.41228676), align=None)
    cortar_extruir33_tool1 = extrude(cortar_extruir33_sk1.sketch, amount=-CORTAR_EXTRUIR33_REACH, mode=Mode.PRIVATE) & body_2_1.part
    add(cortar_extruir33_tool1.solids().sort_by_distance((-42.658674, 15, 2.186413))[0], mode=Mode.SUBTRACT)

    # Croquis35 → Cortar-Extruir34 (cut, two sides)
    with BuildSketch(Plane(origin=(0, 20, 0), x_dir=(1, 0, 0), z_dir=(0, 1, 0))) as cortar_extruir34_sk:
        with Locations((17.04227466, -3.413432096)):
            Rectangle(CROQUIS35_W, CROQUIS35_H)
    extrude(amount=CORTAR_EXTRUIR34_DEPTH, mode=Mode.SUBTRACT)
    extrude(cortar_extruir34_sk.sketch, amount=-CORTAR_EXTRUIR34_DEPTH_BACK, mode=Mode.SUBTRACT)

    # Croquis36 → Cortar-Extruir35 (cut)
    with BuildSketch(Plane(origin=(20, 0, 0), x_dir=(0, 0, -1), z_dir=(1, 0, 0)).offset(CORTAR_EXTRUIR35_START)):
        Polygon((7.5, 16.58771324), (4.75, 18.175426481), (2, 16.58771324), (2, 13.41228676), (4.75, 11.824573519), (7.5, 13.41228676), align=None)
    extrude(amount=-CORTAR_EXTRUIR35_DEPTH, mode=Mode.SUBTRACT)

    # Croquis37 → Saliente-Extruir8 (add)
    with BuildSketch(Plane.XZ.offset(-10)):
        Polygon((-39.160527763, -4.104491148), (-20.614919368, -20), (-15, -20), (-19.558128305, -15.637570403), (-33.014002756, -4.104491148), align=None)
    extrude(amount=-SALIENTE_EXTRUIR8_DEPTH)

    # Croquis38 → Saliente-Extruir9 (add)
    with BuildSketch(Plane.XZ.offset(-10)):
        Polygon((-58.825, 12.75), (-38.825, 12.75), (-38.825, 9.75), (-55.324839942, 9.75), align=None)
    extrude(amount=SALIENTE_EXTRUIR9_DEPTH)

    # Croquis39 → Saliente-Extruir10 (add)
    with BuildSketch(Plane.XZ.offset(-10)):
        Polygon((-38.825, 9.75), (-38.825, 7.75), (-38.825, 5.75), (-50.657959865, 5.75), (-52.991399903, 7.75), (-55.324839942, 9.75), align=None)
    extrude(amount=SALIENTE_EXTRUIR10_DEPTH)

    # Simetría3: body 2 across face


with BuildPart() as body_2_2:
    add(body_2_1.part)
    add(body_2_1.part.mirror(Plane(origin=(-18.003999227, 20, -4.220503046), x_dir=(0, 0, 1), z_dir=(0, 1, 0))))

    # Croquis40 → Cortar-Extruir36 (cut, two sides)
    with BuildSketch(Plane(origin=(0, 0, -20), x_dir=(-1, 0, 0), z_dir=(0, 0, -1))) as cortar_extruir36_sk:
        with Locations((22.395502026, -3.695757982)):
            Rectangle(CROQUIS40_W, CROQUIS40_H)
    extrude(amount=CORTAR_EXTRUIR36_DEPTH, mode=Mode.SUBTRACT)
    extrude(cortar_extruir36_sk.sketch, amount=-CORTAR_EXTRUIR36_DEPTH_BACK, mode=Mode.SUBTRACT)

    # Croquis41 → Cortar-Extruir37 (cut, two sides)
    with BuildSketch(Plane.XZ.offset(-20)) as cortar_extruir37_sk:
        Polygon((-19.992980133, -22.302484261), (-20, 3.75), (-24, 7.75), (-56.035110209, 7.75), align=None)
    extrude(amount=CORTAR_EXTRUIR37_DEPTH, mode=Mode.SUBTRACT)
    extrude(cortar_extruir37_sk.sketch, amount=-CORTAR_EXTRUIR37_DEPTH_BACK, mode=Mode.SUBTRACT)

    # Croquis42 → Cortar-Extruir38 (cut, two sides)
    with BuildSketch(Plane(origin=(0, 0, 9.75), x_dir=(-1, 0, 0), z_dir=(0, 0, -1))) as cortar_extruir38_sk:
        Polygon((46.720301378, 20), (46.720301378, 30), (38.825, 30), (33.492952769, 43.760628779), (49.525340398, 48.951442806), (67.200390695, 42.512205152), (65.906601328, 20), (51.713995885, 13.864168239), align=None)
    extrude(amount=CORTAR_EXTRUIR38_DEPTH, mode=Mode.SUBTRACT)
    extrude(cortar_extruir38_sk.sketch, amount=-CORTAR_EXTRUIR38_DEPTH_BACK, mode=Mode.SUBTRACT)

    # Croquis43 → Saliente-Extruir11 (add)
    with BuildSketch(Plane.XZ.offset(-20)):
        Polygon((-19.993600539, -20), (-46.720301378, 7.75), (-43.839252857, 10.524807997), (-17.112552018, -17.225192003), align=None)
    extrude(amount=-SALIENTE_EXTRUIR11_DEPTH)

    # Croquis44 → Cortar-Extruir39 (cut, through all)
    with BuildSketch(Plane(origin=(0, 0, 9.75), x_dir=(-1, 0, 0), z_dir=(0, 0, -1))):
        Polygon((38.957161657, 27.75), (37.369448416, 25), (38.957161657, 22.25), (42.132588137, 22.25), (43.720301378, 25), (42.132588137, 27.75), align=None)
    extrude(amount=CORTAR_EXTRUIR39_DEPTH, mode=Mode.SUBTRACT)

    # Croquis45 → Saliente-Extruir12 (add)
    with BuildSketch(Plane.XY.offset(12.75)):
        with Locations((-30.985150689, 25)):
            Rectangle(CROQUIS45_W, CROQUIS45_H)
        with Locations((-40.544874897, 25)):
            Circle(CROQUIS45_R, mode=Mode.SUBTRACT)
        with Locations((-29, 25)):
            Circle(CROQUIS45_R, mode=Mode.SUBTRACT)
    extrude(amount=SALIENTE_EXTRUIR12_DEPTH)

    # Croquis46 → Saliente-Extruir13 (add)
    with BuildSketch(Plane.XZ.offset(-20)):
        with BuildLine():
            Line((15.25, 0), (20, 0))
            Line((20, 0), (20, 15.25))
            Line((20, 15.25), (7.549834435, 15.25))
            Line((7.549834435, 15.25), (7.549834435, 13.25))
            ThreePointArc((7.549834435, 13.25), (13.185171124, 7.662490615), (15.25, 0))
        make_face()
        with BuildLine():
            Line((-15.25, 0), (-15.25, 15.25))
            Line((-15.25, 15.25), (-7.549834435, 15.25))
            Line((-7.549834435, 15.25), (-7.549834435, 13.25))
            ThreePointArc((-7.549834435, 13.25), (-13.185171124, 7.662490615), (-15.25, 0))
        make_face()
    extrude(amount=-SALIENTE_EXTRUIR13_DEPTH)

    # Croquis47 → Cortar-Extruir40 (cut)
    with BuildSketch(Plane.XY.offset(15.25).offset(CORTAR_EXTRUIR40_START)):
        Polygon((15.41228676, 22.352505966), (17, 25.102505966), (15.41228676, 27.852505966), (12.236860279, 27.852505966), (10.649147039, 25.102505966), (12.236860279, 22.352505966), align=None)
        with Locations((13.824573519, 25.102505966)):
            Circle(CROQUIS47_R, mode=Mode.SUBTRACT)
        Polygon((-12.236860279, 22.352505966), (-15.41228676, 22.352505966), (-17, 25.102505966), (-15.41228676, 27.852505966), (-12.236860279, 27.852505966), (-10.649147039, 25.102505966), align=None)
        with Locations(Location((-13.824573519, 25.102505966, 0), (0, 0, 131.421584744))):
            Circle(CROQUIS47_R, mode=Mode.SUBTRACT)
    extrude(amount=-CORTAR_EXTRUIR40_DEPTH, mode=Mode.SUBTRACT)

    # Croquis48 → Cortar-Extruir41 (cut)
    with BuildSketch(Plane.XY.offset(15.25).offset(CORTAR_EXTRUIR41_START)):
        with Locations((13.824573519, 25.102505966)):
            Circle(CROQUIS48_R)
        with Locations((-13.824573519, 25.102505966)):
            Circle(CROQUIS48_R)
    extrude(amount=CORTAR_EXTRUIR41_DEPTH, mode=Mode.SUBTRACT)

    # Croquis49 → Cortar-Extruir42 (cut)
    with BuildSketch(Plane(origin=(0, 30, 0), x_dir=(1, 0, 0), z_dir=(0, 1, 0))):
        Polygon((-12.979274058, 11.5), (-10.958548116, 15), (-12.979274058, 18.5), (-17.020725942, 18.5), (-19.041451884, 15), (-17.020725942, 11.5), align=None)
        Polygon((17.020725942, 11.5), (19.041451884, 15), (17.020725942, 18.5), (12.979274058, 18.5), (10.958548116, 15), (12.979274058, 11.5), align=None)
    extrude(amount=-CORTAR_EXTRUIR42_DEPTH, mode=Mode.SUBTRACT)


solid = body_2_2.part
